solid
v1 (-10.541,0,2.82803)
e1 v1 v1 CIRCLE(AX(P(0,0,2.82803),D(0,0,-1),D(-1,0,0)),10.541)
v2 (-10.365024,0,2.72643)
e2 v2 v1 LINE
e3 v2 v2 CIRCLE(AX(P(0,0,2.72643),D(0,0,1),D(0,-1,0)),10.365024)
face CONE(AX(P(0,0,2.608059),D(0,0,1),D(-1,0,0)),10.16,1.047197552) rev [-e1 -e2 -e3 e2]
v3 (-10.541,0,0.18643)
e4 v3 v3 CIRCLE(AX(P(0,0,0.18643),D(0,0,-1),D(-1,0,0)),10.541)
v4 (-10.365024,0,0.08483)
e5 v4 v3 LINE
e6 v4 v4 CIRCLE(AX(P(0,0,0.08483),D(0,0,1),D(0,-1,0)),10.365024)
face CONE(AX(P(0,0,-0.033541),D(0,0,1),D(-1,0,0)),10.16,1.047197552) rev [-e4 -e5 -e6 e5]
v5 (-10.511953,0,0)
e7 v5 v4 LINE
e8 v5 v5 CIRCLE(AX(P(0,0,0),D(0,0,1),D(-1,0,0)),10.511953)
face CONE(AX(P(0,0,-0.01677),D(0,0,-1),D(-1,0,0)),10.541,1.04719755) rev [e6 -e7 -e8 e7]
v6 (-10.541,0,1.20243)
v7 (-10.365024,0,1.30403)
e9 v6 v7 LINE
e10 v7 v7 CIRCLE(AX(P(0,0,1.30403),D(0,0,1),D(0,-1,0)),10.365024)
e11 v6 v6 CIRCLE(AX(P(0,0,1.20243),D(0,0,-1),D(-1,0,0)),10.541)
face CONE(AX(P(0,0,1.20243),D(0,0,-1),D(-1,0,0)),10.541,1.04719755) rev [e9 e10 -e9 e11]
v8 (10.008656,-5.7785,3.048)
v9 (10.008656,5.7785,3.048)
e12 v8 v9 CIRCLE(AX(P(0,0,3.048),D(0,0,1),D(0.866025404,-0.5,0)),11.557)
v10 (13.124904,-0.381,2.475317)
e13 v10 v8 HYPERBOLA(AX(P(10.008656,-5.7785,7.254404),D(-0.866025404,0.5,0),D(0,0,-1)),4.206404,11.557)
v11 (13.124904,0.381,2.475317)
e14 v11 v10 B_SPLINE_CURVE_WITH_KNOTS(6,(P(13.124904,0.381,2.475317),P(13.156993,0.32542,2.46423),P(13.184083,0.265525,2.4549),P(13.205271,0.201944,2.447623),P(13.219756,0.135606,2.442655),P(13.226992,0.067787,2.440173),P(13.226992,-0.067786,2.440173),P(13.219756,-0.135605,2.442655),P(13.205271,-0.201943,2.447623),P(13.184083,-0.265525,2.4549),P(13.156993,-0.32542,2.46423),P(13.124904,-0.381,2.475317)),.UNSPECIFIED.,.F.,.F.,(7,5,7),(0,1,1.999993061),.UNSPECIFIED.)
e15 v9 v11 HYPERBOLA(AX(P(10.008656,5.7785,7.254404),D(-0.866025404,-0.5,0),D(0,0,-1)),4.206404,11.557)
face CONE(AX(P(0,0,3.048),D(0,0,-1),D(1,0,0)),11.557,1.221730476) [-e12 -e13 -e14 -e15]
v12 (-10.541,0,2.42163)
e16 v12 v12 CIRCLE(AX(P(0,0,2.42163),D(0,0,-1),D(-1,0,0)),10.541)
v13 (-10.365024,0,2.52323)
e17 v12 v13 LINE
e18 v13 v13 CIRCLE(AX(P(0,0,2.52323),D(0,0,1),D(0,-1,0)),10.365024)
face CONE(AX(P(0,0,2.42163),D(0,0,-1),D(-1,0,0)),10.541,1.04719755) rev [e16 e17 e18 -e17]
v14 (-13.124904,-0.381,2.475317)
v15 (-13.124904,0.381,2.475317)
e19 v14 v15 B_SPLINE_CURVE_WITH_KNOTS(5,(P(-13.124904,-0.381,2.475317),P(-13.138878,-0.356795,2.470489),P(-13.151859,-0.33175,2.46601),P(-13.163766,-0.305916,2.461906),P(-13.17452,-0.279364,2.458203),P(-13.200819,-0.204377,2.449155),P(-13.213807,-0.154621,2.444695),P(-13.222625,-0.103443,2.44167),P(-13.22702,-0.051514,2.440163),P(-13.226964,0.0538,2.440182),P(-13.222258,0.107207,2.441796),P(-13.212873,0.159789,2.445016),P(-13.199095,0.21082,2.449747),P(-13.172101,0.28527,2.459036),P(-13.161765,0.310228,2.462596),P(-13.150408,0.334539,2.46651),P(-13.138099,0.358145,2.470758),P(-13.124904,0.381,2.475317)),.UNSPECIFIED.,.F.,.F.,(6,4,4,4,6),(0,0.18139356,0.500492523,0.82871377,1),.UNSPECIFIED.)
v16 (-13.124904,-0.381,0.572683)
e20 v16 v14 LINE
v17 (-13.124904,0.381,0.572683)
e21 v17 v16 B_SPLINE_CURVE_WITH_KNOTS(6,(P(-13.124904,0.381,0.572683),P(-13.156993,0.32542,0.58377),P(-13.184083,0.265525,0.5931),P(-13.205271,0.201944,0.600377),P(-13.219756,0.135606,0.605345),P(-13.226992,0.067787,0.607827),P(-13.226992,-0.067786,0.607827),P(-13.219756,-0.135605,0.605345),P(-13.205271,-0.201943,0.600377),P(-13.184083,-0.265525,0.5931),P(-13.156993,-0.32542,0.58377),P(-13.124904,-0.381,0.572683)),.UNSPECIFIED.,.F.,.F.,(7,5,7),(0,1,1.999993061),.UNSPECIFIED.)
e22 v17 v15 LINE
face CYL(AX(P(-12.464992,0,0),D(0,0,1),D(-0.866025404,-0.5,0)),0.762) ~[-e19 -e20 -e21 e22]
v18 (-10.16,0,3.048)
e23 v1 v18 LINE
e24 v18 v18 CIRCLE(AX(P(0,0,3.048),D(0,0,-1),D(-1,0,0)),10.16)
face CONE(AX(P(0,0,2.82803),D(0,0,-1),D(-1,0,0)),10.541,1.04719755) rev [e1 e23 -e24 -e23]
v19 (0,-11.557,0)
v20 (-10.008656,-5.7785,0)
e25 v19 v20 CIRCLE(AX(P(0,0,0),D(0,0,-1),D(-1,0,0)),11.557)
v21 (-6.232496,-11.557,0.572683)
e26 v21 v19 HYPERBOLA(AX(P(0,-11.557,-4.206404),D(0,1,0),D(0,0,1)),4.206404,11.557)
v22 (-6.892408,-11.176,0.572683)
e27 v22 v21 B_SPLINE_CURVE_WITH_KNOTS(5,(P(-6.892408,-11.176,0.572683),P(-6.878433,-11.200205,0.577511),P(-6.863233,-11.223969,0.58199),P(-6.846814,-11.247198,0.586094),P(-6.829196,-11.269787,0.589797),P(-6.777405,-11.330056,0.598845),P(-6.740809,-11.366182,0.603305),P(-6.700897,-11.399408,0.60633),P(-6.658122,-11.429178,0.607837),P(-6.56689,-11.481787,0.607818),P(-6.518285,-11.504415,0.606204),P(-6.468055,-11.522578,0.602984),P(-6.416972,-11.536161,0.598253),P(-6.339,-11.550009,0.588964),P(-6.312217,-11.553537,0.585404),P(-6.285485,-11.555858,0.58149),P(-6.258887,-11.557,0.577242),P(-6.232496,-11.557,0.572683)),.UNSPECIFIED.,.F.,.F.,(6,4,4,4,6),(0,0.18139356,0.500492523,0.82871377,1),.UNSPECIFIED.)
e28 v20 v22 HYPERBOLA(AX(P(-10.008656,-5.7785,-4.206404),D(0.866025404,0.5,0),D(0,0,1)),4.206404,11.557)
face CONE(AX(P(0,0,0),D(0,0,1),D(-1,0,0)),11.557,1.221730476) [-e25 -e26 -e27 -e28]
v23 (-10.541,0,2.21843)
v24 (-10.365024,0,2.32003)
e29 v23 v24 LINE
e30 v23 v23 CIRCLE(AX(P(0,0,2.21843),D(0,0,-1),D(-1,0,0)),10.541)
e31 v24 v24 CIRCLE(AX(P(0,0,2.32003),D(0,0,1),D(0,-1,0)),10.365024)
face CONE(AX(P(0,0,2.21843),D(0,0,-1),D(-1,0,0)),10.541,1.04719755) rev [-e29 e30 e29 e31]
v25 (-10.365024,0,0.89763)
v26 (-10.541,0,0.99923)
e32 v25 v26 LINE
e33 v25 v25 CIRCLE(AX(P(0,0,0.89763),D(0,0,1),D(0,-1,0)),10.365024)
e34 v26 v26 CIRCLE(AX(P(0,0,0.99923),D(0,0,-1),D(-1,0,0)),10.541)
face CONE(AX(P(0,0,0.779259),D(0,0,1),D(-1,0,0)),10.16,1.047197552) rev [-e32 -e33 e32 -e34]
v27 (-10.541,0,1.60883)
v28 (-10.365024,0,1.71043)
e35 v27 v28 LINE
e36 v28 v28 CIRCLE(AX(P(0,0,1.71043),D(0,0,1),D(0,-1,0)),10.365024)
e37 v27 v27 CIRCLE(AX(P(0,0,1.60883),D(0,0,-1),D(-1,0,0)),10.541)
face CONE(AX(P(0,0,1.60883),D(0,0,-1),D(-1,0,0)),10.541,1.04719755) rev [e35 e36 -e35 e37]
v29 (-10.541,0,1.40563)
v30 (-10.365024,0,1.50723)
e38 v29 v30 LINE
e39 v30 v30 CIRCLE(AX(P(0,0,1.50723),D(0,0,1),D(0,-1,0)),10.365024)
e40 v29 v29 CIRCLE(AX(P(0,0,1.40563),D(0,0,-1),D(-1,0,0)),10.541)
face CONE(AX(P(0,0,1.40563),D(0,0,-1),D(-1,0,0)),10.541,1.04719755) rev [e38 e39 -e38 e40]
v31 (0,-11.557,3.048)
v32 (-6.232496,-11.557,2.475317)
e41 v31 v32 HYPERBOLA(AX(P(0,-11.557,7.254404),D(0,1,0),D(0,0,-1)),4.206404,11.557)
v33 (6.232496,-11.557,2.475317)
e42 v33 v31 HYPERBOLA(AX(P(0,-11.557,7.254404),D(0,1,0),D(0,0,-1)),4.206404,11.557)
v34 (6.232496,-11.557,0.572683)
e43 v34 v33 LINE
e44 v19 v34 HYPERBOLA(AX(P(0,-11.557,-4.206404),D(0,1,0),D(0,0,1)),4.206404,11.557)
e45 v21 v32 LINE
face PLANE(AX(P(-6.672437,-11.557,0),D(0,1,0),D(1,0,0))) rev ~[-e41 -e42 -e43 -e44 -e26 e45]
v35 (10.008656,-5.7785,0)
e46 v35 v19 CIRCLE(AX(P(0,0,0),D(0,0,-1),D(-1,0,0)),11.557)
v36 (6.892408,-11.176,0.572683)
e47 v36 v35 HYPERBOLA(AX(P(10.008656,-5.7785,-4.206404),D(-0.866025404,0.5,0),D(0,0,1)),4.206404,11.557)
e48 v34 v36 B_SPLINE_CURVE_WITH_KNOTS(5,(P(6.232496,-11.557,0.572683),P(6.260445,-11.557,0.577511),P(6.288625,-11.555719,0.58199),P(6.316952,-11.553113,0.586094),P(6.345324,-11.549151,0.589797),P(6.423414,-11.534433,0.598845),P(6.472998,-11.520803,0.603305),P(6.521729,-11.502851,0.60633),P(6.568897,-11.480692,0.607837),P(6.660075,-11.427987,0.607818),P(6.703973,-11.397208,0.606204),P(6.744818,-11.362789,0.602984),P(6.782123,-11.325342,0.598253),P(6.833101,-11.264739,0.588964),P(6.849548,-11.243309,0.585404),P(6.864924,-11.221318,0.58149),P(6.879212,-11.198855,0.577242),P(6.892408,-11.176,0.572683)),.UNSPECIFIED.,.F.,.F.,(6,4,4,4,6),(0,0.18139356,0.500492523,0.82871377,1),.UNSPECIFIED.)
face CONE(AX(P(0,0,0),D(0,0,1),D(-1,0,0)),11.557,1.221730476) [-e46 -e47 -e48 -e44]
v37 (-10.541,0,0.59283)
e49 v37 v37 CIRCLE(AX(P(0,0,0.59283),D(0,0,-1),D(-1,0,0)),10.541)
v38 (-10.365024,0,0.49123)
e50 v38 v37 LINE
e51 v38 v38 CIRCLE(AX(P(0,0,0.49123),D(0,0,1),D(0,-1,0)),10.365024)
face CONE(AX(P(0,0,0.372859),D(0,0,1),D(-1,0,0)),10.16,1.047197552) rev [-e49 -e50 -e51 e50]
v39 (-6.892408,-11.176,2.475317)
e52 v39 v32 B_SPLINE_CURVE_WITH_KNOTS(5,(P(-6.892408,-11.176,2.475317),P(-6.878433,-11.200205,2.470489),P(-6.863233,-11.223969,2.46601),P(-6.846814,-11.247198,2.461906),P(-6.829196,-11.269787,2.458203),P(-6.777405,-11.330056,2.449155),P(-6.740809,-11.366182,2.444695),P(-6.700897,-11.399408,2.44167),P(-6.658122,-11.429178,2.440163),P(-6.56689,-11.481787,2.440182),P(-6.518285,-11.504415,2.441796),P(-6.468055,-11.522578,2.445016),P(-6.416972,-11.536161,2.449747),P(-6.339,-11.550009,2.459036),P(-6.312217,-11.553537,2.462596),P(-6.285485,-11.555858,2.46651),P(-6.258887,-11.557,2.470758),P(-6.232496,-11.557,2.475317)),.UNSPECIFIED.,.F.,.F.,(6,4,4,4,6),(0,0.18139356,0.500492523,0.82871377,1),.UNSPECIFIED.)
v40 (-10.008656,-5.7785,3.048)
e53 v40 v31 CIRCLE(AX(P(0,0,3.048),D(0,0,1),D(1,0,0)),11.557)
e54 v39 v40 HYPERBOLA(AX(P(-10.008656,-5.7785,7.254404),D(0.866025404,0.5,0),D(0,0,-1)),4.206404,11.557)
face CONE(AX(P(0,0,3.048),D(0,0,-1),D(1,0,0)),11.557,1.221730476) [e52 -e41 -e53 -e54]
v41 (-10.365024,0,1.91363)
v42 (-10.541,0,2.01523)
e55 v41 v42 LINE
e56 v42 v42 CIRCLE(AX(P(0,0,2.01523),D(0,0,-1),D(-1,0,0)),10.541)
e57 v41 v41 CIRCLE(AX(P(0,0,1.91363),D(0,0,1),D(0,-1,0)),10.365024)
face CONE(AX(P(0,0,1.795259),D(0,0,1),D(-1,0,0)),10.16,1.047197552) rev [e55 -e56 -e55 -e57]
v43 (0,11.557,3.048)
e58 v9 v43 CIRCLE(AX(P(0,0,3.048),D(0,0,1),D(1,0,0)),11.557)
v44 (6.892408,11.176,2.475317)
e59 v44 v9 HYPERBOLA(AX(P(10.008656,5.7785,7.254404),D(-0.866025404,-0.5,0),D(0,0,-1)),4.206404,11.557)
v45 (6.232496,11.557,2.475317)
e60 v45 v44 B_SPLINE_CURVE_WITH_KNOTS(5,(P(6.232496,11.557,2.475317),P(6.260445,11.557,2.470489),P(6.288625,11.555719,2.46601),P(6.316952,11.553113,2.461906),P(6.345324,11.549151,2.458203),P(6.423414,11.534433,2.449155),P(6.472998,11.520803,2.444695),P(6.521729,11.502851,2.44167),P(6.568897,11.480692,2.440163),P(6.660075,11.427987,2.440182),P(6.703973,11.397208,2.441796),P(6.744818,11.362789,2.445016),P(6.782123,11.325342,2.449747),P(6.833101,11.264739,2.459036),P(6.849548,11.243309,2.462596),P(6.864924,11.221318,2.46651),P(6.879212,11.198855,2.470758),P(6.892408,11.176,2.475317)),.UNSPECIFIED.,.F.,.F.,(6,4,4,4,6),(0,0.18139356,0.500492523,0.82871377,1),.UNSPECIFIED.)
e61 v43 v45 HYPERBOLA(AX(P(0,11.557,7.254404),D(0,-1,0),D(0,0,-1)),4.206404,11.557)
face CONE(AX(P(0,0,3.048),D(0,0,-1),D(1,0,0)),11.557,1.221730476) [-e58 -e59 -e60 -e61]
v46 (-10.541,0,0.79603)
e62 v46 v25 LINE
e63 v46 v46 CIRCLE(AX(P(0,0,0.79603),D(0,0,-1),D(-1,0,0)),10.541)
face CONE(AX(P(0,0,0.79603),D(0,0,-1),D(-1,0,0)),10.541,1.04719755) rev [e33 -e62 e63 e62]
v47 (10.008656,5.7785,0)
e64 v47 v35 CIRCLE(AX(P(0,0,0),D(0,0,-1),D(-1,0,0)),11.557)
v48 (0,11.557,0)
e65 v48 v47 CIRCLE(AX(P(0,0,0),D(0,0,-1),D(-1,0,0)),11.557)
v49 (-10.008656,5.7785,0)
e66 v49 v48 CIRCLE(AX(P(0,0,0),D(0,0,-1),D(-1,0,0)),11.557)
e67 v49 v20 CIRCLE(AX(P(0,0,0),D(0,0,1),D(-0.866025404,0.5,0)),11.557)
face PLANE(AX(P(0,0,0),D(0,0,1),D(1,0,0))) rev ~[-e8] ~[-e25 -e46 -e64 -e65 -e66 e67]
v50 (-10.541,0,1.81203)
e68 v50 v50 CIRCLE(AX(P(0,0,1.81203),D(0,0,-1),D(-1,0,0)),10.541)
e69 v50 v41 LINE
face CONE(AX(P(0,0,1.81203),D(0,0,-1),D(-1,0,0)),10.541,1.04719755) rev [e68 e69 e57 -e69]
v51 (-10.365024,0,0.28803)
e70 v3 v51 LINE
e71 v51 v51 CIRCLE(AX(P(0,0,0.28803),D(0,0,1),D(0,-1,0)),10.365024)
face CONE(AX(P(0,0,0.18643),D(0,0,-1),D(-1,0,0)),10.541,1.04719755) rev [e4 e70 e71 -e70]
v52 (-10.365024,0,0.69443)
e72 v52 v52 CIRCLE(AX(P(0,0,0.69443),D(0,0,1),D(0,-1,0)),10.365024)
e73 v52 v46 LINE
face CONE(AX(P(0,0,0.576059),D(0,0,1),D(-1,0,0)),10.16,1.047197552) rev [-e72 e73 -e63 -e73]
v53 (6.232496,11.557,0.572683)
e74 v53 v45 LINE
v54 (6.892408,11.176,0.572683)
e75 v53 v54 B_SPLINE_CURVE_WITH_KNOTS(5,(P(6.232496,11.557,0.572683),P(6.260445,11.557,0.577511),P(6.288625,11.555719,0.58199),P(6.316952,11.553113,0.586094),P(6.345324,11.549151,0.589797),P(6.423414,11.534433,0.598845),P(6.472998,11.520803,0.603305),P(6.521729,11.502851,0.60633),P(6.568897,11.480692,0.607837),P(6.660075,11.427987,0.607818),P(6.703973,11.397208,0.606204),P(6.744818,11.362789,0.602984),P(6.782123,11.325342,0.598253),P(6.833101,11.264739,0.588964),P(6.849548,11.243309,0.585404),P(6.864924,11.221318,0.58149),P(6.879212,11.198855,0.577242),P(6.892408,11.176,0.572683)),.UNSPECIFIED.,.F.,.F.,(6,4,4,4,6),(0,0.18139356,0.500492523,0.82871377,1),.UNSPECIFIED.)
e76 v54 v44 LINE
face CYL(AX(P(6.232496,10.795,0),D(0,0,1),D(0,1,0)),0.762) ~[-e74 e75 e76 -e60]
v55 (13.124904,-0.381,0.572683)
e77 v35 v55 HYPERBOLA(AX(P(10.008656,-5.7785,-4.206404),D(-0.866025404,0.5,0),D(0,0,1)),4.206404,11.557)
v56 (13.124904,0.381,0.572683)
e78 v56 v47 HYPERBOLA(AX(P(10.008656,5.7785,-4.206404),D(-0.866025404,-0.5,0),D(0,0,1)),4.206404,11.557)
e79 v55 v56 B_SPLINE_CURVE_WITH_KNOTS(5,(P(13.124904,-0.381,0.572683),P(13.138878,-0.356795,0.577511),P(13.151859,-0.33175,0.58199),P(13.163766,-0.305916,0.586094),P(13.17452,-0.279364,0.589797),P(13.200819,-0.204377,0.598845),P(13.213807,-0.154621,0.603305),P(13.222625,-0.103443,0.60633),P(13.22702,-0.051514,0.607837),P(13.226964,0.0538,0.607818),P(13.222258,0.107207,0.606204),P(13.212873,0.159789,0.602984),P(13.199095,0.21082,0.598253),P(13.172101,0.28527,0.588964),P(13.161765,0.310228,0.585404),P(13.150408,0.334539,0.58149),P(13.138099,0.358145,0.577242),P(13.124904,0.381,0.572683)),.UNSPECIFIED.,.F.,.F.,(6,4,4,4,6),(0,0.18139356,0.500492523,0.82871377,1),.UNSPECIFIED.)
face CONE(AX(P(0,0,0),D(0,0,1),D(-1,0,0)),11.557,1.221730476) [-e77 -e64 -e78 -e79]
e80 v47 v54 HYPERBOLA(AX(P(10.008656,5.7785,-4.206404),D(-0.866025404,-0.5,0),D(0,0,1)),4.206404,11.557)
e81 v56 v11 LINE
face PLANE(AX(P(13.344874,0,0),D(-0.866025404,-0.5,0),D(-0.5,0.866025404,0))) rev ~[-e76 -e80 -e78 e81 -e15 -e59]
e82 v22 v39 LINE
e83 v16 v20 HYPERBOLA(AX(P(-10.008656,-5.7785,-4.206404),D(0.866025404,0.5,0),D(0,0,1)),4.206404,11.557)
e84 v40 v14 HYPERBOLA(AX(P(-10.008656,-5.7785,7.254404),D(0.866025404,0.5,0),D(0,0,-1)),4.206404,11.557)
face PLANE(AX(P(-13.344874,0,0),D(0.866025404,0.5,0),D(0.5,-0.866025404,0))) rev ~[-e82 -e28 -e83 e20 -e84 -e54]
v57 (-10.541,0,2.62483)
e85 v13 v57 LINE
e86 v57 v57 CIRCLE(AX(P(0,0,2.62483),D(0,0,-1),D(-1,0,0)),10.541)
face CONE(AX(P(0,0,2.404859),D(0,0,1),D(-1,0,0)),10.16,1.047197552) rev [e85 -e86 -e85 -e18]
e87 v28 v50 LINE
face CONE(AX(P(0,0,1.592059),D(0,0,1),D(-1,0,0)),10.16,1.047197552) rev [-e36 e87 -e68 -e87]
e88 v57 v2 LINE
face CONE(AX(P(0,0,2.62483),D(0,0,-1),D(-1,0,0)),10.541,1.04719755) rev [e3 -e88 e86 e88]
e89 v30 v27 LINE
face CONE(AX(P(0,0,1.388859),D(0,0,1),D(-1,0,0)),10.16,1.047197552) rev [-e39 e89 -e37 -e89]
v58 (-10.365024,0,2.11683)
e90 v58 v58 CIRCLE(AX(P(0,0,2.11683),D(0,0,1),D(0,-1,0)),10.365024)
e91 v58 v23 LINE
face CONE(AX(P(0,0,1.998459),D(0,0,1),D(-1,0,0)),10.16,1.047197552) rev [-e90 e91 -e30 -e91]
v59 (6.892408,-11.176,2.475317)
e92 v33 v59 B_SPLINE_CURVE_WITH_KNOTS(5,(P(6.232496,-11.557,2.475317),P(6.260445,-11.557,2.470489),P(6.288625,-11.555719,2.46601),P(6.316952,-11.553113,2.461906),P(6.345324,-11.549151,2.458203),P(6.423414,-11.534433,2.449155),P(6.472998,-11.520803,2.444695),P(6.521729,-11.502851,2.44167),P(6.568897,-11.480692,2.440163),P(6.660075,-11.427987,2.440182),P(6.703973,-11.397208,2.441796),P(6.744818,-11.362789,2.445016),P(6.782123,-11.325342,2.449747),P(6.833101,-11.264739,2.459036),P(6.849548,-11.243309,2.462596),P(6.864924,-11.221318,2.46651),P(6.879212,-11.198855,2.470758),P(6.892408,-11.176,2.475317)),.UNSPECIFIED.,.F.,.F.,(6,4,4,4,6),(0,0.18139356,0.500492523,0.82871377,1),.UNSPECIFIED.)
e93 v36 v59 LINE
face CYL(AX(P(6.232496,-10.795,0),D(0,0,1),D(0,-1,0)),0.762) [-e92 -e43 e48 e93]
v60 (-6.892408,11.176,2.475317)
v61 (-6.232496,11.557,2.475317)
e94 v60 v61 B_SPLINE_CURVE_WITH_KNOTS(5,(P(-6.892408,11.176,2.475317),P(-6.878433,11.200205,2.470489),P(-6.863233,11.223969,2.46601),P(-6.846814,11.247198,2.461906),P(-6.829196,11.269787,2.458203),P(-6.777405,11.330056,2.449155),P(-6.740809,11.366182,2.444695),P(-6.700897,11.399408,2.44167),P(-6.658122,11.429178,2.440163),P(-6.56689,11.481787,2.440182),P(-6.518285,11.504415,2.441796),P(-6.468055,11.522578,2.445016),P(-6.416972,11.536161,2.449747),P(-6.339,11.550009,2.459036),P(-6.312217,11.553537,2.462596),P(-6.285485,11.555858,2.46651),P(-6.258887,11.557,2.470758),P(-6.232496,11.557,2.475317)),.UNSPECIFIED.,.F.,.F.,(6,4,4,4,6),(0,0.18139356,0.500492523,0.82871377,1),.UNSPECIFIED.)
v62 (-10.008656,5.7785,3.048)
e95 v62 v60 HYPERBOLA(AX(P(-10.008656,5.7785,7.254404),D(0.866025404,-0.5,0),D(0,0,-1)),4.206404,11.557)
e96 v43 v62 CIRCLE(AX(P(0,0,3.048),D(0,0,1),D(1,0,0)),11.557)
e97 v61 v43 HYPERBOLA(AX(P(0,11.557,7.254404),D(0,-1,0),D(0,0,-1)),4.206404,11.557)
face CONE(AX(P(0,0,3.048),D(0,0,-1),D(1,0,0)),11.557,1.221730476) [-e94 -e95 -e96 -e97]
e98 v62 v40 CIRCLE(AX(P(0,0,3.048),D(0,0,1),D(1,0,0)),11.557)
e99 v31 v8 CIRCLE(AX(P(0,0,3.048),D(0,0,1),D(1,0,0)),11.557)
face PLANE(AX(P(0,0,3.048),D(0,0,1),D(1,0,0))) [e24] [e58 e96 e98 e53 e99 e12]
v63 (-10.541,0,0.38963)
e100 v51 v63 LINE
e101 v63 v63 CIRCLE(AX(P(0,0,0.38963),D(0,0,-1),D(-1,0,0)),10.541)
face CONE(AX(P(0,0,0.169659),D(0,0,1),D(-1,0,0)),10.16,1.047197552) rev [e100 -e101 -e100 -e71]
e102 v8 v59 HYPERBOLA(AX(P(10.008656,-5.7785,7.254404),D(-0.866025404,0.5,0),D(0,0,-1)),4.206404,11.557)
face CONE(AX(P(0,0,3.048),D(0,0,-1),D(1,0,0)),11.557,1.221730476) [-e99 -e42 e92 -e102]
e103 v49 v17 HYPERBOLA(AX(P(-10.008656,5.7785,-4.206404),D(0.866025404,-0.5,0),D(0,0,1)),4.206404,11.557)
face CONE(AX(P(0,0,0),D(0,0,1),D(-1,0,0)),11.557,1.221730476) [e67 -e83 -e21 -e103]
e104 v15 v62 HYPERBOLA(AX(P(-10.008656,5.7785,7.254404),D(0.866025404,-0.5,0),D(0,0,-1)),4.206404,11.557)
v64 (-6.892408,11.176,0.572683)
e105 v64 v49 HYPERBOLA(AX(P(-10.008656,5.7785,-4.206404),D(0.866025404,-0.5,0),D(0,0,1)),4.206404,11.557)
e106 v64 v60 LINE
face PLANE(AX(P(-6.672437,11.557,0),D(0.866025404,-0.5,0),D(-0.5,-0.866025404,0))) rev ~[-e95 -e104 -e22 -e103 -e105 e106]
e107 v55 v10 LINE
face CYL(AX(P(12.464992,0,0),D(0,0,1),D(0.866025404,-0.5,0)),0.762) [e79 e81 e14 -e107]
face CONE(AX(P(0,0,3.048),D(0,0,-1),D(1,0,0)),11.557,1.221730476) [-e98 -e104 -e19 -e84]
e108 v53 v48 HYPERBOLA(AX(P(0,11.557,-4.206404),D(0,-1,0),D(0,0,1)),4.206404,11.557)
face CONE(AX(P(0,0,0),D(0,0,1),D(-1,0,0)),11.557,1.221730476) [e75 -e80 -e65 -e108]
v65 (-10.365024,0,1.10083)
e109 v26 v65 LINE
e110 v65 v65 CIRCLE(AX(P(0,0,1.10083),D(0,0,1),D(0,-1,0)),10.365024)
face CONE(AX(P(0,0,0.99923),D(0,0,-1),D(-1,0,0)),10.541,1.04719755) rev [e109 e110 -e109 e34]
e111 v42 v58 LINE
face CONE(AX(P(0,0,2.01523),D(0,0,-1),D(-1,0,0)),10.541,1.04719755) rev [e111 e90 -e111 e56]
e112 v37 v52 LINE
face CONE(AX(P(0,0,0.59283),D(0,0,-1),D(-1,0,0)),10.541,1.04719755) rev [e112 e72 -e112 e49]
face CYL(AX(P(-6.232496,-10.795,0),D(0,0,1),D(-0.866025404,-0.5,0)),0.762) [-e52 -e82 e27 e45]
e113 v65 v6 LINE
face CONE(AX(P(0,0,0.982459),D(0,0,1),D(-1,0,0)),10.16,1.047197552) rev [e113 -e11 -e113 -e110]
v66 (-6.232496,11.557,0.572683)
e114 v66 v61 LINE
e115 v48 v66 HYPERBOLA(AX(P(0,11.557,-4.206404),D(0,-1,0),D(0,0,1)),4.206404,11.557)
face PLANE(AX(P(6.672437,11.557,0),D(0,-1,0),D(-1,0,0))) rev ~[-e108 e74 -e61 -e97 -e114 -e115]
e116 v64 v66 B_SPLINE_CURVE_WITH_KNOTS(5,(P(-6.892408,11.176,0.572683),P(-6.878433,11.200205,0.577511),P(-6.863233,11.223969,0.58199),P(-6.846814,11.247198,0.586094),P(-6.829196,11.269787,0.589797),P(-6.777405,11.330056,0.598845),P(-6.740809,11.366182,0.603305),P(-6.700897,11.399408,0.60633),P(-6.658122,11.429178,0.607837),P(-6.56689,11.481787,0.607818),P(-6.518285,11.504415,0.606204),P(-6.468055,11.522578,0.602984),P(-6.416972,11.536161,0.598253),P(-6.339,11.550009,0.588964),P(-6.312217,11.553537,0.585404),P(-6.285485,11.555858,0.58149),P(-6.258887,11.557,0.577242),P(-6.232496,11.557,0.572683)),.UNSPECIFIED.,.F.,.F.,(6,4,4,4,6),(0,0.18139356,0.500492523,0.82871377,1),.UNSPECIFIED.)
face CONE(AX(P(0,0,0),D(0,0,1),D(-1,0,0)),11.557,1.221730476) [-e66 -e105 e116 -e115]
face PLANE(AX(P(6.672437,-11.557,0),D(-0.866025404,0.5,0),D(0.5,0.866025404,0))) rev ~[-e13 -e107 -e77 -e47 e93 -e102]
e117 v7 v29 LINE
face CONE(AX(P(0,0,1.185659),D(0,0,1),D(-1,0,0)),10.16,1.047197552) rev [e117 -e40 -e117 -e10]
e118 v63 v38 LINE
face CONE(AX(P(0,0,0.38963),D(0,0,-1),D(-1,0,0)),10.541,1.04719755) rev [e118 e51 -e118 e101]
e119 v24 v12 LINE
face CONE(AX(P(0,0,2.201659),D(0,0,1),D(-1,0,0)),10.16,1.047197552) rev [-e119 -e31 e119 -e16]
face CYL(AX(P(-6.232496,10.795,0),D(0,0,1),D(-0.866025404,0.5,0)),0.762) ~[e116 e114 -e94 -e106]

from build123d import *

# Parameters (mm, degrees)
SKETCH1_R          = 10.16
EXTRUDE1_DEPTH     = 3.048
FILLET1_R          = 0.762
SKETCH2_OUTSIDE_W  = 57.75
SKETCH2_OUTSIDE_H  = 54.41
SKETCH2_OUTSIDE_R  = 11.557
CUT_EXTRUDE1_DEPTH = 4.048
CUT_EXTRUDE1_DRAFT = -70
SKETCH3_OUTSIDE_W  = 57.75
SKETCH3_OUTSIDE_H  = 54.41
SKETCH3_OUTSIDE_R  = 11.557
CUT_EXTRUDE2_DEPTH = 4.0480001
CUT_EXTRUDE2_DRAFT = -70
LPATTERN1_COUNT    = 15
LPATTERN1_PITCH    = 0.2032


with BuildPart() as part:
    # Sketch1 → Extrude1 (new body)
    with BuildSketch(Plane.XY):
        Polygon((-13.344874122, 0), (-6.672437061, -11.557), (6.672437061, -11.557), (13.344874122, 0), (6.672437061, 11.557), (-6.672437061, 11.557), align=None)
        Circle(SKETCH1_R, mode=Mode.SUBTRACT)
    extrude(amount=EXTRUDE1_DEPTH)

    # Fillet1
    fillet1_edges = [part.edges().sort_by_distance(p)[0] for p in [
        (13.344874122, 0, 1.524),
        (6.672437061, -11.557, 1.524),
        (-6.672437061, -11.557, 1.524),
        (-13.344874122, 0, 1.524),
        (-6.672437061, 11.557, 1.524),
        (6.672437061, 11.557, 1.524),
    ]]
    fillet(fillet1_edges, radius=FILLET1_R)


with BuildPart() as cut_extrude1_tool:
    # Sketch2 outside → Cut-Extrude1 (with draft: the straight prism first)
    with BuildSketch(Plane.XY.offset(3.048)):
        Rectangle(SKETCH2_OUTSIDE_W, SKETCH2_OUTSIDE_H)
        Circle(SKETCH2_OUTSIDE_R, mode=Mode.SUBTRACT)
    extrude(amount=-CUT_EXTRUDE1_DEPTH)
    # Cut-Extrude1: the draft: its side faces are tilted about the plane it starts from
    cut_extrude1_sides = [cut_extrude1_tool.faces().sort_by_distance(p)[0] for p in [
        (0, -27.205, 1.024),
        (28.875, 0, 1.024),
        (0, 27.205, 1.024),
        (-28.875, 0, 1.024),
        (-11.557, 0, 1.024),
    ]]
    draft(cut_extrude1_sides, Plane.XY.offset(3.048), CUT_EXTRUDE1_DRAFT)


with BuildPart() as part_1:
    add(part.part)

    # Cut-Extrude1: cut by cut_extrude1_tool
    add(cut_extrude1_tool.part, mode=Mode.SUBTRACT)


with BuildPart() as cut_extrude2_tool:
    # Sketch3 outside → Cut-Extrude2 (with draft: the straight prism first)
    with BuildSketch(Plane(origin=(0, 0, 0), x_dir=(-1, 0, 0), z_dir=(0, 0, -1))):
        Rectangle(SKETCH3_OUTSIDE_W, SKETCH3_OUTSIDE_H)
        Circle(SKETCH3_OUTSIDE_R, mode=Mode.SUBTRACT)
    extrude(amount=-CUT_EXTRUDE2_DEPTH)
    # Cut-Extrude2: the draft: its side faces are tilted about the plane it starts from
    cut_extrude2_sides = [cut_extrude2_tool.faces().sort_by_distance(p)[0] for p in [
        (0, -27.205, 2.02400005),
        (-28.875, 0, 2.02400005),
        (0, 27.205, 2.02400005),
        (28.875, 0, 2.02400005),
        (11.557, 0, 2.02400005),
    ]]
    draft(cut_extrude2_sides, Plane(origin=(0, 0, 0), x_dir=(-1, 0, 0), z_dir=(0, 0, -1)), CUT_EXTRUDE2_DRAFT)


with BuildPart() as part_2:
    add(part_1.part)

    # Cut-Extrude2: cut by cut_extrude2_tool
    add(cut_extrude2_tool.part, mode=Mode.SUBTRACT)

    # Sketch4 → Cut-Revolve1 (revolve, cut)
    with BuildSketch(Plane(origin=(0, 0, 0), x_dir=(1, 0, 0), z_dir=(0, 1, 0))):
        Polygon((-10.16, -3.048), (-10.16, -2.608059095), (-10.541, -2.828029547), align=None)
    cut_revolve1 = revolve(axis=Axis((0, 0, 3.048), (0, 0, -1)), mode=Mode.SUBTRACT)

    # LPattern1: Cut-Revolve1 ×15
    with Locations(*[(0, 0, -i * LPATTERN1_PITCH) for i in range(1, LPATTERN1_COUNT)]):
        add(cut_revolve1, mode=Mode.SUBTRACT)


solid = part_2.part
